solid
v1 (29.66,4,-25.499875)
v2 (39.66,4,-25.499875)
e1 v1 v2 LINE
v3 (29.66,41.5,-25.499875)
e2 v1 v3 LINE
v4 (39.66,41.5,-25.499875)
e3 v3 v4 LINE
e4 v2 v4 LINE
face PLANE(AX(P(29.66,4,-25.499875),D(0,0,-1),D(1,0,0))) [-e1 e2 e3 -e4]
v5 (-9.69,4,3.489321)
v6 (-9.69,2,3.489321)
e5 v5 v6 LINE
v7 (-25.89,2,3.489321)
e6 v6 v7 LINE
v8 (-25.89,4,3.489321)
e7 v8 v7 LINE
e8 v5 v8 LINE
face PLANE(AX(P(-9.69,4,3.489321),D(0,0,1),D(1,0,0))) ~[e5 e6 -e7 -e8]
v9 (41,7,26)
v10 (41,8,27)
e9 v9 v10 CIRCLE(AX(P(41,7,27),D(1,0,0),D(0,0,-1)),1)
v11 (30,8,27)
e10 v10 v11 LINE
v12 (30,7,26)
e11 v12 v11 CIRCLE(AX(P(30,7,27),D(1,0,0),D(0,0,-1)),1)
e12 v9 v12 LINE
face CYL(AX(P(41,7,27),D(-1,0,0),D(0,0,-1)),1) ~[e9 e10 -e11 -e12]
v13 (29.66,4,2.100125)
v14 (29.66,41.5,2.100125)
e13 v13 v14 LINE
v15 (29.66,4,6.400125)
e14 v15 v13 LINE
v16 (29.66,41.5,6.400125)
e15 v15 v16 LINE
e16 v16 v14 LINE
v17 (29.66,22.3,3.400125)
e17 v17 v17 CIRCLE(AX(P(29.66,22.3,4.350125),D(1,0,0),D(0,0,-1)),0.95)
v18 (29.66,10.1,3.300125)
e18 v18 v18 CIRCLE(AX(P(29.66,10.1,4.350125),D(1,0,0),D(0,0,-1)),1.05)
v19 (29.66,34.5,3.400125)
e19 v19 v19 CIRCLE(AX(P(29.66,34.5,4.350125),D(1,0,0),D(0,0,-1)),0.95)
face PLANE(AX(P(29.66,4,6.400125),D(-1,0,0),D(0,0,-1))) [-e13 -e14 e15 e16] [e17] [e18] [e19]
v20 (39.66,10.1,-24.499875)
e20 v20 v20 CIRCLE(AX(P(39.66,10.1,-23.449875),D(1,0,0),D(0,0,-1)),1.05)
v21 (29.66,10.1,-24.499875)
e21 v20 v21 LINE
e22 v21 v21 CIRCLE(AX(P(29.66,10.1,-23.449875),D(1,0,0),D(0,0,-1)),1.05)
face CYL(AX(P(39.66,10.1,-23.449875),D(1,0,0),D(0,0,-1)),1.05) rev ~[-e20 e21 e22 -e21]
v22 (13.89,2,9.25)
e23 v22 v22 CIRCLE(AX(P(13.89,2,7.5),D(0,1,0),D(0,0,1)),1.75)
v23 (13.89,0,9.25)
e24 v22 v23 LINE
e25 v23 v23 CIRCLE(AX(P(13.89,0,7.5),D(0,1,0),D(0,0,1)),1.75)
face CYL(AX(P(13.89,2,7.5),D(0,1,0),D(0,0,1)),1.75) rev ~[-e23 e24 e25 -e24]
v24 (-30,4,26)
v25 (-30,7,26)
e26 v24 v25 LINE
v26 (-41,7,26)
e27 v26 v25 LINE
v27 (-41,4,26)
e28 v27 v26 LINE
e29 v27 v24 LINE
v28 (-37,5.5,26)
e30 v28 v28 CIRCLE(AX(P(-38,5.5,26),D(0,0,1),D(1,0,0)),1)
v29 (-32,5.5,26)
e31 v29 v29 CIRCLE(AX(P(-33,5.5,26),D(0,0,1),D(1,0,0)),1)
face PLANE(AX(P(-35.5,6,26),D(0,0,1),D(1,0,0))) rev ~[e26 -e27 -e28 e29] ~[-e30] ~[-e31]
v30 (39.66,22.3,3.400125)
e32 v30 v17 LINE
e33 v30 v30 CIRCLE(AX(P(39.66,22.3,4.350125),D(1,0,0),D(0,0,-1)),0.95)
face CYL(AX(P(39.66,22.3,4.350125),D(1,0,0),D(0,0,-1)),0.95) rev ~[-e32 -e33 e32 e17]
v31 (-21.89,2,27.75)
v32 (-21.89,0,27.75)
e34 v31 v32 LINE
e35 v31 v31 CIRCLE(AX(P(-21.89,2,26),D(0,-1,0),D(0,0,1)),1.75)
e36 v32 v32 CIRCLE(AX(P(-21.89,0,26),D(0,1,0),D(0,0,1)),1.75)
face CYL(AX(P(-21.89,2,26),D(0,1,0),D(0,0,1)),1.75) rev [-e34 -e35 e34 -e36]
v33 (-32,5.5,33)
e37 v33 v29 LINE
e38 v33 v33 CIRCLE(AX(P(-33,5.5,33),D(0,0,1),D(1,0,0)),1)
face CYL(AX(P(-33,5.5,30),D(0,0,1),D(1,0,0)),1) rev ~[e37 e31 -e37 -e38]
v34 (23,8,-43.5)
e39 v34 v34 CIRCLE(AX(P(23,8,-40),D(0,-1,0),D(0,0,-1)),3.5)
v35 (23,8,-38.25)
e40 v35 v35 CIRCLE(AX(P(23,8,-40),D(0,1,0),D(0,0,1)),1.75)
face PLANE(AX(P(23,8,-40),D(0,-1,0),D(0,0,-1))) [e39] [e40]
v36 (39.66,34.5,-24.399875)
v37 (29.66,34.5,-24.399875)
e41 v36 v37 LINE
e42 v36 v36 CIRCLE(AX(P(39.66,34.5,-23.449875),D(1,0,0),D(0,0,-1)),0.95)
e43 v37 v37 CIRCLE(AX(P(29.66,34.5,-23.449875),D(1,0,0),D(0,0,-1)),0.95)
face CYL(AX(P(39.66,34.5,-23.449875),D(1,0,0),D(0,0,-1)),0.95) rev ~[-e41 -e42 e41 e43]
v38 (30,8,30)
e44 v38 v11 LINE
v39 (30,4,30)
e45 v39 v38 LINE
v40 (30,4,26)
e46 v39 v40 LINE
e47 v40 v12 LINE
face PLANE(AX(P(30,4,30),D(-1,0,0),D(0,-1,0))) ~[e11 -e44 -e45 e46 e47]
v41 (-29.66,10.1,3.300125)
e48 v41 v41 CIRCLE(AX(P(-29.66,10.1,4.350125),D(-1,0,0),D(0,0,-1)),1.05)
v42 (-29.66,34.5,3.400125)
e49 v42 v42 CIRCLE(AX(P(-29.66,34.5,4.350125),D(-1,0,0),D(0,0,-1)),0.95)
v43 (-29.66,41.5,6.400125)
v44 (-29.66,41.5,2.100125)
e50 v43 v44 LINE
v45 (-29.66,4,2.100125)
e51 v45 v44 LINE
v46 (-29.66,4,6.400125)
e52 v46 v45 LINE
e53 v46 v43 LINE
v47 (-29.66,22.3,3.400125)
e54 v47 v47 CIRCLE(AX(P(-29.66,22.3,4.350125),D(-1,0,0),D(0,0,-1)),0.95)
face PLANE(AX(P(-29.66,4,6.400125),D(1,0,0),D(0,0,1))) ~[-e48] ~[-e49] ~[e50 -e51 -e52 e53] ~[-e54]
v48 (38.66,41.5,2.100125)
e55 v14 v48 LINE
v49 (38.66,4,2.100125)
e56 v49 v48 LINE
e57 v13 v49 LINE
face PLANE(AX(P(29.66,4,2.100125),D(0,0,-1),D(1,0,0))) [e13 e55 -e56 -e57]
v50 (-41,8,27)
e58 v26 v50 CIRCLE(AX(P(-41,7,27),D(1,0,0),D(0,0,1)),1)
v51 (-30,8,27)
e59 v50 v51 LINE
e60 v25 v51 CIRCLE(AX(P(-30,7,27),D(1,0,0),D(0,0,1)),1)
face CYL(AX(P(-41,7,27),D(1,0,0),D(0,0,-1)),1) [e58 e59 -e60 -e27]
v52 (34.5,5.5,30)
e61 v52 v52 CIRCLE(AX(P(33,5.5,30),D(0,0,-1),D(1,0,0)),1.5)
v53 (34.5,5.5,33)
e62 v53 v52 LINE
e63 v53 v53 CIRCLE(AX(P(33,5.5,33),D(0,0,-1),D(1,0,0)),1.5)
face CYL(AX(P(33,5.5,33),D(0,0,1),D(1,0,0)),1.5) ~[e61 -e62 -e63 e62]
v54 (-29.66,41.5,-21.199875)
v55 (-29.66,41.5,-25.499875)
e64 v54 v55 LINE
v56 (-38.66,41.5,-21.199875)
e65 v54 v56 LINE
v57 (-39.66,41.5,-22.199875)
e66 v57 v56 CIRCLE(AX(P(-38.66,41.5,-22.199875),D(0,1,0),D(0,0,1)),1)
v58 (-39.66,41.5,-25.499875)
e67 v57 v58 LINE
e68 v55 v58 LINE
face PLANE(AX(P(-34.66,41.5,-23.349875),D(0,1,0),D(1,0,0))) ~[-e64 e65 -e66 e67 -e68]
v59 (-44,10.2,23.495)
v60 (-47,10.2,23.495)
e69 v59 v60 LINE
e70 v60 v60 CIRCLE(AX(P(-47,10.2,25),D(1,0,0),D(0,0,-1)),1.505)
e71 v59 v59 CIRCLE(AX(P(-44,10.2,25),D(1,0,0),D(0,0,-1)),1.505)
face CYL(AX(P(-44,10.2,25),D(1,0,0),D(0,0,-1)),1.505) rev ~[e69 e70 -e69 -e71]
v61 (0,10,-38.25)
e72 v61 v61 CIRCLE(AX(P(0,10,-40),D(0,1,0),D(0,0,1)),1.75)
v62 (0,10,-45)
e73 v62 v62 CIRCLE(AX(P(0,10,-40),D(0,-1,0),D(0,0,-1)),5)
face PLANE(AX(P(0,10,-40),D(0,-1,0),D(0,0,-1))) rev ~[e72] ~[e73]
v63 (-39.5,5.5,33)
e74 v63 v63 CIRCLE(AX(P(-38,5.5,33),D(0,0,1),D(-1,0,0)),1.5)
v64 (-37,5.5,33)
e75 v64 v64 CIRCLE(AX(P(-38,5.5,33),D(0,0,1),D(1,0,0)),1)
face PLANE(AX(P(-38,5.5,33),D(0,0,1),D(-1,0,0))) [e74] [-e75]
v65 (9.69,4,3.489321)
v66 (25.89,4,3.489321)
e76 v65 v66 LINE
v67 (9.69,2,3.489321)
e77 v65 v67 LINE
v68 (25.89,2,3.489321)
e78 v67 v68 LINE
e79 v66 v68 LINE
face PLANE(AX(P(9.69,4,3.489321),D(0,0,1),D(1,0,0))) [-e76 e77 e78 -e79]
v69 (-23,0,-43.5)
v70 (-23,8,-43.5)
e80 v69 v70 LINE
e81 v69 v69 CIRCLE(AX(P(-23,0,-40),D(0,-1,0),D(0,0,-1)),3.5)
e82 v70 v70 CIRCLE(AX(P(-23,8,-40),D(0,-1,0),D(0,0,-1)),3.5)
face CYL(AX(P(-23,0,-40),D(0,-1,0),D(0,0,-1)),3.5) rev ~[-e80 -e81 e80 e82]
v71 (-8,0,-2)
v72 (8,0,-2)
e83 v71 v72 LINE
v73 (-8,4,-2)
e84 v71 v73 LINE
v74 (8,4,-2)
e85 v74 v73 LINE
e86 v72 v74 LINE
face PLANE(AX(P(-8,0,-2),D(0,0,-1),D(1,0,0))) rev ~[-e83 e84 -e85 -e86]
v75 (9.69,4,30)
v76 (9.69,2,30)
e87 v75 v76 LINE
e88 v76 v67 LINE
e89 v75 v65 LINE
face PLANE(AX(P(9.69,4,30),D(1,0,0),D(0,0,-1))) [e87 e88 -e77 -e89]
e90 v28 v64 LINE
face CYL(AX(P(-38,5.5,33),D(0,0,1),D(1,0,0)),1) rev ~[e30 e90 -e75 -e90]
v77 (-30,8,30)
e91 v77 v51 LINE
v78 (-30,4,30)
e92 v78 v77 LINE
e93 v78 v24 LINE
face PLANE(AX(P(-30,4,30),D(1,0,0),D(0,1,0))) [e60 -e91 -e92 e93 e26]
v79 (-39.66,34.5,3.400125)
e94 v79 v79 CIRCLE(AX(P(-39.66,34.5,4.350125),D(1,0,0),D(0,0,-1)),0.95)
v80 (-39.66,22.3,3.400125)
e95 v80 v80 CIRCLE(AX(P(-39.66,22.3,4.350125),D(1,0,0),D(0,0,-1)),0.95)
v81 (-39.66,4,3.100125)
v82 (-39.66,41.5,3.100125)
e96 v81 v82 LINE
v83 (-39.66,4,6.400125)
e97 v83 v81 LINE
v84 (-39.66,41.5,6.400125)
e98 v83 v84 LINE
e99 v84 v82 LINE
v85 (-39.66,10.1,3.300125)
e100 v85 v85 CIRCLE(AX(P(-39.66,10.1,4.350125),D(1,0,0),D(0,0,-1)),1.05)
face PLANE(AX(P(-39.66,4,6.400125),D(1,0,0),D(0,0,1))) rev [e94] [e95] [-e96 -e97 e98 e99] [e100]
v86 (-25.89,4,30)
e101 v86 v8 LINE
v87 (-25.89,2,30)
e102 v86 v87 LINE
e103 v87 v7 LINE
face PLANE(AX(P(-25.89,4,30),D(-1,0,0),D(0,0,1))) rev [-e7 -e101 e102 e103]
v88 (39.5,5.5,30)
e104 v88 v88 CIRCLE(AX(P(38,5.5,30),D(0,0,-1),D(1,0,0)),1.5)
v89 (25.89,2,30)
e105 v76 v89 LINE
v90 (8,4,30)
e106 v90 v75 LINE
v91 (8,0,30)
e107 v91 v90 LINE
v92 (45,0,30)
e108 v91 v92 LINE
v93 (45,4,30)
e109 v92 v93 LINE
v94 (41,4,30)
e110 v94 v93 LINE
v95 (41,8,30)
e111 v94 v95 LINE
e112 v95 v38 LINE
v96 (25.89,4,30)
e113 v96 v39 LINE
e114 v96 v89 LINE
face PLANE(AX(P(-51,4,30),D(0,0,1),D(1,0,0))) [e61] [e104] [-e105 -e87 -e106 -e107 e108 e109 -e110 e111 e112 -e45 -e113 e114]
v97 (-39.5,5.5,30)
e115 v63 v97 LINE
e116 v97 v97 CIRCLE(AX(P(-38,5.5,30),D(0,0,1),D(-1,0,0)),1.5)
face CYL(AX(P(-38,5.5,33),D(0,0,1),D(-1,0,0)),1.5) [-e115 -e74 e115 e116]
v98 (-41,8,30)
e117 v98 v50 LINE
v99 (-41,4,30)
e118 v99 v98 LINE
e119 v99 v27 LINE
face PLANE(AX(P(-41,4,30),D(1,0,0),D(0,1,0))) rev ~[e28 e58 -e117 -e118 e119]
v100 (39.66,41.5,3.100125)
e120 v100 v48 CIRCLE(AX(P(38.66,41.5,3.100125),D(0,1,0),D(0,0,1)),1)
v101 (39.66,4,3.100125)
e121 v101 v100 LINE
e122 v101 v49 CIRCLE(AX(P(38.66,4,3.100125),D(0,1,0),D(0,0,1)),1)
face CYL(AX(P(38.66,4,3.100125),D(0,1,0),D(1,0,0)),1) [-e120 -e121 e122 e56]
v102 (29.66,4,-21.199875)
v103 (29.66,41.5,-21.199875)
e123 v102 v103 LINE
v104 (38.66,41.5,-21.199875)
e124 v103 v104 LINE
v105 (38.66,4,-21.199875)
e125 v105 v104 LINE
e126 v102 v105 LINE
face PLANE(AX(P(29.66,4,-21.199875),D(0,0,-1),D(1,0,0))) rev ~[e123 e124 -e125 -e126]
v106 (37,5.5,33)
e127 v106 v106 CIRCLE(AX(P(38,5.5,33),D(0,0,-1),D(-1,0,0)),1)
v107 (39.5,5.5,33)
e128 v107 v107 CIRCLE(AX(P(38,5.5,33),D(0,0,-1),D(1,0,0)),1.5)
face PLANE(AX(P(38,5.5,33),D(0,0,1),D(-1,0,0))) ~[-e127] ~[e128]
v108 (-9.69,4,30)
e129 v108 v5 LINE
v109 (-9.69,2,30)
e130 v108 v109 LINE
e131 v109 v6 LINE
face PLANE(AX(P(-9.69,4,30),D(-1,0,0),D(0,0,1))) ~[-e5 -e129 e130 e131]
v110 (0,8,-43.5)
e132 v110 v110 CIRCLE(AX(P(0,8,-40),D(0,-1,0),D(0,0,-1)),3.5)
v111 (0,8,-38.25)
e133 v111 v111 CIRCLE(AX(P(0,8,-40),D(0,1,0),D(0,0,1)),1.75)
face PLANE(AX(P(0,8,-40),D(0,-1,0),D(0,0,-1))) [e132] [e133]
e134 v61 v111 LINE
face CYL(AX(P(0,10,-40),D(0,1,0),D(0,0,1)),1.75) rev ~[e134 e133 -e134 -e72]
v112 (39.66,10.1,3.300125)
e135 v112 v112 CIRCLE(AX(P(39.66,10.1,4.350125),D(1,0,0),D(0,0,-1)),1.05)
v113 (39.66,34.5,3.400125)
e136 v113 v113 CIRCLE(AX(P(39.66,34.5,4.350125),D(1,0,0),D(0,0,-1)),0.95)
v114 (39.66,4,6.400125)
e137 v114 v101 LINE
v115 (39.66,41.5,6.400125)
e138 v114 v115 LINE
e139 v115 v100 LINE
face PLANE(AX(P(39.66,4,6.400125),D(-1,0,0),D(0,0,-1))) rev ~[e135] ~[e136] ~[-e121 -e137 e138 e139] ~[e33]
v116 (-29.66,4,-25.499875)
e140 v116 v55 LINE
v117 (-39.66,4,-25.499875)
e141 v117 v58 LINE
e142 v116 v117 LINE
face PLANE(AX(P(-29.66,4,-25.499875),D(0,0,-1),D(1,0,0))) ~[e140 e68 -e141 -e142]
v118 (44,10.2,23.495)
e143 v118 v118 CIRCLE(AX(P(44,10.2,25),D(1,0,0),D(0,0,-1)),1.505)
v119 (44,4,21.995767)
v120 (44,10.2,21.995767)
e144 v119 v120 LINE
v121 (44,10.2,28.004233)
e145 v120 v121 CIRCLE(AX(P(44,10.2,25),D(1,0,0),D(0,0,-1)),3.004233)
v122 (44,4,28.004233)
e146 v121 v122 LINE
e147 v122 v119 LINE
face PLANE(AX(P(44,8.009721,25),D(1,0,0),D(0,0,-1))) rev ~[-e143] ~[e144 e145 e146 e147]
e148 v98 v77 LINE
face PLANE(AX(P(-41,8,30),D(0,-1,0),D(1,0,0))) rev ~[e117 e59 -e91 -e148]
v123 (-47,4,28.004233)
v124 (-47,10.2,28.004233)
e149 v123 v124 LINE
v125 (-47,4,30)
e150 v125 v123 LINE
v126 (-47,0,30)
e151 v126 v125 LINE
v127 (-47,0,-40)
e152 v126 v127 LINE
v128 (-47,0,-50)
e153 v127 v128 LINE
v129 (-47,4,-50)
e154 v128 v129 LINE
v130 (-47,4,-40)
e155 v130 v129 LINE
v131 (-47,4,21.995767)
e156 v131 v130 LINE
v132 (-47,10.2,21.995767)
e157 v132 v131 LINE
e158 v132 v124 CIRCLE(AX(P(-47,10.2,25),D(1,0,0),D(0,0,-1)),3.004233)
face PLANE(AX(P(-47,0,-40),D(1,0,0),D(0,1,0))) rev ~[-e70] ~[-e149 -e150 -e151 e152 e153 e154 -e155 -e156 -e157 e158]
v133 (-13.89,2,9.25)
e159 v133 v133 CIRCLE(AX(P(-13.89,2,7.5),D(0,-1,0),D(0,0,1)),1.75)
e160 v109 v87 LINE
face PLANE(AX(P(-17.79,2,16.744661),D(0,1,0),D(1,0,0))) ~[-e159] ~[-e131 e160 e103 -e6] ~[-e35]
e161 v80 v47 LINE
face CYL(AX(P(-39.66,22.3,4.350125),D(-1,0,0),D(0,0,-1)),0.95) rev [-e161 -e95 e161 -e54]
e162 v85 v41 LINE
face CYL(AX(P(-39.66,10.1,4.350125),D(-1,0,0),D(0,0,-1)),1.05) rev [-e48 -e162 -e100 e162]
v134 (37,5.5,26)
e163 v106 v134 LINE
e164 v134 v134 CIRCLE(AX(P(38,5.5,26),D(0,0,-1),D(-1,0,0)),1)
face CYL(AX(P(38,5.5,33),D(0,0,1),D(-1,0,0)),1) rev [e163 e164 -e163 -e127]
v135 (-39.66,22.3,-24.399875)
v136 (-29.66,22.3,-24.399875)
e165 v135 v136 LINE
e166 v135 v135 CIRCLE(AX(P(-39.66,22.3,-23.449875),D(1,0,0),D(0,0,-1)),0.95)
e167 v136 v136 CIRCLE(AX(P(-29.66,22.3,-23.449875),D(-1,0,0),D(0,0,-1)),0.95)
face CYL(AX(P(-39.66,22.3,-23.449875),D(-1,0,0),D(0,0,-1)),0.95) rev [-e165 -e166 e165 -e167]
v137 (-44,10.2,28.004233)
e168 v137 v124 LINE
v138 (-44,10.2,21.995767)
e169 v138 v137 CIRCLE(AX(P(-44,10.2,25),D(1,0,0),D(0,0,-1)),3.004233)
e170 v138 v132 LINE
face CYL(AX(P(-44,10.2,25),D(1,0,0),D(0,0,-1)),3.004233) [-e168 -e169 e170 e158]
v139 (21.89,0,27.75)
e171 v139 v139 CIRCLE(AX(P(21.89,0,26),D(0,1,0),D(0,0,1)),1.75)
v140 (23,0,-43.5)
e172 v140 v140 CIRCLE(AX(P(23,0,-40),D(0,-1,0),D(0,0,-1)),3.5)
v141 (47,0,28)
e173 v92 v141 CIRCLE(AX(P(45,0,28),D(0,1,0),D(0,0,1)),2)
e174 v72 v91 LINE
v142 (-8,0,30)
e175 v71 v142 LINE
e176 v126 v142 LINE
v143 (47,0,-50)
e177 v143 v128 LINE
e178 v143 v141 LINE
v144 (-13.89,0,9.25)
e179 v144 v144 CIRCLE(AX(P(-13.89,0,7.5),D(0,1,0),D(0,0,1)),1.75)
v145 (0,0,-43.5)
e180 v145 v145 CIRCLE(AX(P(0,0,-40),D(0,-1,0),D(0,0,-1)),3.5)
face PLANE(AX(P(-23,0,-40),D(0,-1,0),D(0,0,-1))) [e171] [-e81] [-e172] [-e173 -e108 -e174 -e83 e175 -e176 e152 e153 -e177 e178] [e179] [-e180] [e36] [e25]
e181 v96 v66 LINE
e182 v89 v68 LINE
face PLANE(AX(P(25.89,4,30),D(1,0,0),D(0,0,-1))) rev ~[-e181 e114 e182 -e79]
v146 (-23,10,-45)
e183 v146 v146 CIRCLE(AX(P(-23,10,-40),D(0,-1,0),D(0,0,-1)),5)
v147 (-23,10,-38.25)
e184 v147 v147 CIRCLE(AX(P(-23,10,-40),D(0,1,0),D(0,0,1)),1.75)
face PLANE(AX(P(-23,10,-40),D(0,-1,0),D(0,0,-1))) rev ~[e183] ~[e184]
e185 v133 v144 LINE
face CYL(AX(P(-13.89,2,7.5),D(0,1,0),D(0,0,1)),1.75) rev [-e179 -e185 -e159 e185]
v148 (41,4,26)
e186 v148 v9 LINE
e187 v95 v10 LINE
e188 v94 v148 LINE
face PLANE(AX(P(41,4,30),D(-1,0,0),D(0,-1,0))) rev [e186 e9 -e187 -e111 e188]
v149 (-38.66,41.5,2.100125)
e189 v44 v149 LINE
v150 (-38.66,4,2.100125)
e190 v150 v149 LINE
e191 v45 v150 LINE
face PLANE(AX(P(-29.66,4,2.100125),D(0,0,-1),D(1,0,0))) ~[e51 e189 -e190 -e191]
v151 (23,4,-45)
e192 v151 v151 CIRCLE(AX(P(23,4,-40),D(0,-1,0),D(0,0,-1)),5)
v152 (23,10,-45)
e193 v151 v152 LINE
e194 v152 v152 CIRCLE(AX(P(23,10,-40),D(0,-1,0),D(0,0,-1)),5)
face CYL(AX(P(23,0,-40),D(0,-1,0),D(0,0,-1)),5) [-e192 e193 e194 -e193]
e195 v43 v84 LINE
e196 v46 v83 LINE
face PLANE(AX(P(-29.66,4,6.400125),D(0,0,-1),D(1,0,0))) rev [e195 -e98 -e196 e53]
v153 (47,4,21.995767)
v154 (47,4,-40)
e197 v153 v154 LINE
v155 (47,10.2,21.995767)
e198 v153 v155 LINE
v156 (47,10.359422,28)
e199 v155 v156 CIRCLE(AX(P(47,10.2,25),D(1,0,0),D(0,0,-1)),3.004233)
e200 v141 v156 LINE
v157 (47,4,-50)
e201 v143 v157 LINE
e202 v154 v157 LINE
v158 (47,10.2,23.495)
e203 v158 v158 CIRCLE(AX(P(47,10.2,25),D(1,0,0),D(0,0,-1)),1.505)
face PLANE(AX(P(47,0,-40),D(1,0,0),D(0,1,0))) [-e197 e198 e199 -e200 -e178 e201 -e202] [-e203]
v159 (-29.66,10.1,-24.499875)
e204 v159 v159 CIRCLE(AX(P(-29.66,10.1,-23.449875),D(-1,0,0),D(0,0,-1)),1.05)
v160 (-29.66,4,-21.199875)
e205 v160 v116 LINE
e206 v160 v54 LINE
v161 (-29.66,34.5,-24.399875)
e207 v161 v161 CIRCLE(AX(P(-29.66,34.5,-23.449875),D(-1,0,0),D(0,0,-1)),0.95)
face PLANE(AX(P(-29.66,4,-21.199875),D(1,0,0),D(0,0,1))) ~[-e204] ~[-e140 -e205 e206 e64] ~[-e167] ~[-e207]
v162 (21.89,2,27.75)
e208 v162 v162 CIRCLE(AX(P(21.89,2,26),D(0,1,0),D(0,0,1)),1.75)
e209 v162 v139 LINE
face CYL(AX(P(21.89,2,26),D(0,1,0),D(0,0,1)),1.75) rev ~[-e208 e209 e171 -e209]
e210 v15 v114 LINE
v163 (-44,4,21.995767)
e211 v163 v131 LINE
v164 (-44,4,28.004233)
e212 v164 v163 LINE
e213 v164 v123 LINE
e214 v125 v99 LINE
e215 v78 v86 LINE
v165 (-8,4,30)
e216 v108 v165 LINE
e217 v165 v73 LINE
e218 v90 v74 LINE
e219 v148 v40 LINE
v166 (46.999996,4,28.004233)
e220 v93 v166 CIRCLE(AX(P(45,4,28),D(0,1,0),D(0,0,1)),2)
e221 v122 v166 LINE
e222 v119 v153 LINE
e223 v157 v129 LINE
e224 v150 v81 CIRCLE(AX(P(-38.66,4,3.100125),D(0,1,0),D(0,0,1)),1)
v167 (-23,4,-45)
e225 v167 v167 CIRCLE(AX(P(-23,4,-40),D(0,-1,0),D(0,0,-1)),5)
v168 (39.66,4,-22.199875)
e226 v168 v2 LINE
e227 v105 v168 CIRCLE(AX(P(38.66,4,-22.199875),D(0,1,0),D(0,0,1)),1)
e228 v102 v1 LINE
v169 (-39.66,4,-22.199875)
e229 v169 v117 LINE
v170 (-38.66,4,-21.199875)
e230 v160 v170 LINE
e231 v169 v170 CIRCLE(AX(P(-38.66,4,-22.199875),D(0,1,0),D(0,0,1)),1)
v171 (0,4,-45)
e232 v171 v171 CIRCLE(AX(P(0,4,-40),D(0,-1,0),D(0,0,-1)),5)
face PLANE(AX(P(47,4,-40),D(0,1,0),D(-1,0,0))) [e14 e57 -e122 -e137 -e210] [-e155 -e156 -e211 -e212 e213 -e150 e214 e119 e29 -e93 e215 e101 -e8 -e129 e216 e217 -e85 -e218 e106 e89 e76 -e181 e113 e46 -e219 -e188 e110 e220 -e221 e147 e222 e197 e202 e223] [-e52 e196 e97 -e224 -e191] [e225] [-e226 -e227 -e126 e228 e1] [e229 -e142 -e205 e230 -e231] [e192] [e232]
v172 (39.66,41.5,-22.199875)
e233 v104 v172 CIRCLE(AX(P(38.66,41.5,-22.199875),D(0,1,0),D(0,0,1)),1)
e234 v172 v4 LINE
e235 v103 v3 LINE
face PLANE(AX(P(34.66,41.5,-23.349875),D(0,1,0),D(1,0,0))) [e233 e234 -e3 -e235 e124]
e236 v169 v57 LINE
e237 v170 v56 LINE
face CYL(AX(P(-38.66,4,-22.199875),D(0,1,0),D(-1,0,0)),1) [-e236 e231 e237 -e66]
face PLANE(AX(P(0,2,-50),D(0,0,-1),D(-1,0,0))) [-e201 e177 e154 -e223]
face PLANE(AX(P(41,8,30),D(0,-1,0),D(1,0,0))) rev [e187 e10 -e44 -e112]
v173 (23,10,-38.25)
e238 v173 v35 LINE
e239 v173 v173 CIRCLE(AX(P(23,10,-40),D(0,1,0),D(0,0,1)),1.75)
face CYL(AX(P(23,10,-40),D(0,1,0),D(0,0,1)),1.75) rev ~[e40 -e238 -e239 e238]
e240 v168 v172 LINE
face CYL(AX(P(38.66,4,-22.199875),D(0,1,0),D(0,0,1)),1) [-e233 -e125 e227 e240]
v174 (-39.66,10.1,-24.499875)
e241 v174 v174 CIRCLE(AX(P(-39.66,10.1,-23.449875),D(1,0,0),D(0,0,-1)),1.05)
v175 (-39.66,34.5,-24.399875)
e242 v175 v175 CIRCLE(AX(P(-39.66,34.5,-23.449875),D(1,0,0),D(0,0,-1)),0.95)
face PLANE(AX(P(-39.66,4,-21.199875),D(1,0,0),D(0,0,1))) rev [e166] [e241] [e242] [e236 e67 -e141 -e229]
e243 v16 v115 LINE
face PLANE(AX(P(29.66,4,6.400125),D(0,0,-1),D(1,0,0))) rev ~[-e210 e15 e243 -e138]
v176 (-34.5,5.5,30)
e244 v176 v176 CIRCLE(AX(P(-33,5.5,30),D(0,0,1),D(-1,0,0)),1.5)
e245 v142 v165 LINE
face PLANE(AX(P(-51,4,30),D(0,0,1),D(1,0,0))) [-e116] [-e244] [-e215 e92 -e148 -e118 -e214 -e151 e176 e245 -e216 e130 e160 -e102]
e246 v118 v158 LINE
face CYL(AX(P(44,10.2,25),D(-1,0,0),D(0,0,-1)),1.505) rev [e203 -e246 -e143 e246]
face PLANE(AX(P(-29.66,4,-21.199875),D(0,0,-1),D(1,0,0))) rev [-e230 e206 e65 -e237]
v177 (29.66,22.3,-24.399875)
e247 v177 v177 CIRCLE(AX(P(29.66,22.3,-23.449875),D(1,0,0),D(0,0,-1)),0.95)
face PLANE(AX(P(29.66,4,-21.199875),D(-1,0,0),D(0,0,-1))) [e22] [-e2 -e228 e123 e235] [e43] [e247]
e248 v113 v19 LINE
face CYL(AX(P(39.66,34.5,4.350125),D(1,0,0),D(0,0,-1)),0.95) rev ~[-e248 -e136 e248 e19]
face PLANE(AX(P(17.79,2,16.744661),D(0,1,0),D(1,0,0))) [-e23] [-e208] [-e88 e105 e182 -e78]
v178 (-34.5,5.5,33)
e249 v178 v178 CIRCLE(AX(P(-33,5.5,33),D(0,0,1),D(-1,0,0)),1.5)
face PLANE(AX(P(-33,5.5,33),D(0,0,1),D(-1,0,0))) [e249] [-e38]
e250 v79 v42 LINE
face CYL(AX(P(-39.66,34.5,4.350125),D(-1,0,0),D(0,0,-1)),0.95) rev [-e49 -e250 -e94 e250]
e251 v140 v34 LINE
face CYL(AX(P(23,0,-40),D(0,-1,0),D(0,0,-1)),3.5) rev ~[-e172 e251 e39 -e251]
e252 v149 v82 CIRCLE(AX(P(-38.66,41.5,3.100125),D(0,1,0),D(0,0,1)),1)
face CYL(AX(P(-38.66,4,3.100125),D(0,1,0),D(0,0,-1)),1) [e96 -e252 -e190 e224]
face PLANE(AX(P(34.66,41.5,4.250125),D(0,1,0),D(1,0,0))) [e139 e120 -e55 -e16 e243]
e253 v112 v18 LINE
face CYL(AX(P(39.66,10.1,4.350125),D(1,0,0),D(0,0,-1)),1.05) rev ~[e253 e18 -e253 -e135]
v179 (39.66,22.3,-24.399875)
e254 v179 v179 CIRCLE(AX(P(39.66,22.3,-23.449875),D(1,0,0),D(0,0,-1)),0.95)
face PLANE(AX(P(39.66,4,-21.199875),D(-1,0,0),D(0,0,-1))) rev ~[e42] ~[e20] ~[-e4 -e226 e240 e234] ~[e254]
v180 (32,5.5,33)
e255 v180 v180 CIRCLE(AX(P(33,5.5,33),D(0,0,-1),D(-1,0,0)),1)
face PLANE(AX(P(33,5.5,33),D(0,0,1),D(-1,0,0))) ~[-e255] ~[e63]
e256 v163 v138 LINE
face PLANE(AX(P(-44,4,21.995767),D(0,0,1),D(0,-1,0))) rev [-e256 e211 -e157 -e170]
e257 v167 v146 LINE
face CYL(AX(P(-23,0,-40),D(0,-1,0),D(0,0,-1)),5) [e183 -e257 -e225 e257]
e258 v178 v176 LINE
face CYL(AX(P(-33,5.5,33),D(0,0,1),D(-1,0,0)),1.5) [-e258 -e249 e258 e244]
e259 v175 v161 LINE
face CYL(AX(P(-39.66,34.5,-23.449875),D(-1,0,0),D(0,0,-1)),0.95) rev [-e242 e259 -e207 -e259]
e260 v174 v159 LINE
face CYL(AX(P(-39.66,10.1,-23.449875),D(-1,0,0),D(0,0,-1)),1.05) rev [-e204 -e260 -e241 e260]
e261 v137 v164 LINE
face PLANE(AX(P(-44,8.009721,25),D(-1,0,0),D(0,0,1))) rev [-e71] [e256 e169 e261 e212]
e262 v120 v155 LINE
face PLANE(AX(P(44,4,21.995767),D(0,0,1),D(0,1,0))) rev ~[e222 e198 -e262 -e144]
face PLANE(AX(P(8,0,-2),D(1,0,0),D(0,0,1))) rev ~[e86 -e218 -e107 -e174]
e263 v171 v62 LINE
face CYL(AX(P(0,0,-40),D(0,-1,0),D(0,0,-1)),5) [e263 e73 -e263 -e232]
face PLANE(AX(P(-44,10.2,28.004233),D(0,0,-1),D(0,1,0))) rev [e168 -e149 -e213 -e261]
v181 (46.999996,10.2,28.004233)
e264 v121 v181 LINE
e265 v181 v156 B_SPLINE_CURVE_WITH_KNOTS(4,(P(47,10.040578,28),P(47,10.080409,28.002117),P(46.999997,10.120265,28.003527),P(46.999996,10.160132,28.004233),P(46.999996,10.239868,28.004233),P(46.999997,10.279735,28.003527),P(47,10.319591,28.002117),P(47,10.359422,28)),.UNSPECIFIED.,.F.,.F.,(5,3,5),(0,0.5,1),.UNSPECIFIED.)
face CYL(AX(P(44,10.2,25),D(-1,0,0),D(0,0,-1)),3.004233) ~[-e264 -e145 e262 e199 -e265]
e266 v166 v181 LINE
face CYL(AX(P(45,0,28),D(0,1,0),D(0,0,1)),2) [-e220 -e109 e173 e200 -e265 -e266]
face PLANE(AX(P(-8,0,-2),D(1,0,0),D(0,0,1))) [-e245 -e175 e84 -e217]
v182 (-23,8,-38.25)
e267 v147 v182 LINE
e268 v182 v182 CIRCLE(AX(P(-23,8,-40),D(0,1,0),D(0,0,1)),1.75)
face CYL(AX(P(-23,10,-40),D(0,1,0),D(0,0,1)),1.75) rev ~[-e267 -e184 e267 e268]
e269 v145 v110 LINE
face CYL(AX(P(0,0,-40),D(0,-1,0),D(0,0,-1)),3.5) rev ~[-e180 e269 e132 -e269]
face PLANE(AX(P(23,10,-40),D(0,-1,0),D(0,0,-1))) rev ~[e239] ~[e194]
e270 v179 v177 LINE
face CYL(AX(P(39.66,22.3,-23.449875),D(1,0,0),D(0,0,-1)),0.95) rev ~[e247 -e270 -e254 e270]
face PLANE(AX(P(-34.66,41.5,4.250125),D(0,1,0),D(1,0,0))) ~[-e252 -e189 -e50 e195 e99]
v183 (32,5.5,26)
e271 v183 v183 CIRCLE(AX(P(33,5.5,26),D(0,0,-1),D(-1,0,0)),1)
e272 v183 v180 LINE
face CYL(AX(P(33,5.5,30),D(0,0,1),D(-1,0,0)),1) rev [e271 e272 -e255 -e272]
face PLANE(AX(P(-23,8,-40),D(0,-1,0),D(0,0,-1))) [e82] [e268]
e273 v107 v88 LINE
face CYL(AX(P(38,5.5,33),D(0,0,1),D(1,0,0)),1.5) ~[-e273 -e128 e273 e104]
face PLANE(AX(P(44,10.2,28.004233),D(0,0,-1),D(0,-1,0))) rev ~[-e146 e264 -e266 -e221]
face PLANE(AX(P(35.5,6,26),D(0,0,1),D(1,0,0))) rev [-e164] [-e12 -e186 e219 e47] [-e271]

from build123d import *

# Parameters (mm, degrees)
SKETCH_1_W             = 102
SKETCH_1_H             = 80
EXTRUDE_1_DEPTH        = 4
SKETCH_5_R             = 1.505
EXTRUDE_3_DEPTH        = 3
SKETCH_16_W            = 10
SKETCH_16_H            = 4.3
EXTRUDE_6_DEPTH        = 37.5
FILLET_3_R             = 1
SKETCH_17_R            = 1.05
SKETCH_17_R_2          = 0.95
CUT_EXTRUDE_10_DEPTH   = 12.5
SKETCH_18_W            = 102
SKETCH_18_H            = 10
CUT_EXTRUDE_11_DEPTH   = 12.5
FILLET_3_OF_MIRROR_2_R = 1
SKETCH_21_W            = 5.636629149
SKETCH_21_H            = 7.556578014
CUT_EXTRUDE_14_DEPTH   = 97.037752993
FILLET_7_R             = 2
SKETCH_22_W            = 16.2
SKETCH_22_H            = 26.510678642
CUT_EXTRUDE_15_DEPTH   = 2
SKETCH_23_R            = 1.75
CUT_EXTRUDE_16_DEPTH   = 74.275166389
SKETCH_25_W            = 11
SKETCH_25_H            = 4
SKETCH_25_R            = 1
EXTRUDE_7_DEPTH        = 4
EXTRUDE_START          = 3
SKETCH_27_R            = 1.5
SKETCH_27_R_2          = 1
EXTRUDE_8_DEPTH        = 3
FILLET_8_R             = 1
FILLET_8_OF_MIRROR_7_R = 1
SKETCH_28_W            = 16
SKETCH_28_H            = 32
CUT_EXTRUDE_17_DEPTH   = 10
SKETCH_29_W            = 94
SKETCH_29_H            = 4
EXTRUDE_9_DEPTH        = 10
SKETCH_30_R            = 5
EXTRUDE_10_DEPTH       = 10
SKETCH_31_R            = 3.5
CUT_EXTRUDE_18_DEPTH   = 8
SKETCH_32_R            = 1.75
CUT_EXTRUDE_19_DEPTH   = 8


with BuildPart() as part:
    # 草图1 → 凸台-拉伸1 (new body)
    with BuildSketch(Plane(origin=(0, 0, 0), x_dir=(1, 0, 0), z_dir=(0, 1, 0))):
        Rectangle(SKETCH_1_W, SKETCH_1_H)
    extrude(amount=EXTRUDE_1_DEPTH)

    # 草图5 → 凸台-拉伸3 (add)
    with BuildSketch(Plane(origin=(44, 0, 0), x_dir=(0, 0, -1), z_dir=(1, 0, 0))):
        with BuildLine():
            Line((-28.004232899, 10.2), (-28.004232899, 4))
            Line((-28.004232899, 4), (-21.995767101, 4))
            Line((-21.995767101, 4), (-21.995767101, 10.2))
            ThreePointArc((-21.995767101, 10.2), (-25, 13.204232899), (-28.004232899, 10.2))
        make_face()
        with Locations((-25, 10.2)):
            Circle(SKETCH_5_R, mode=Mode.SUBTRACT)
    extrude_3 = extrude(amount=EXTRUDE_3_DEPTH)

    # 镜向1: 凸台-拉伸3 across plane
    add(extrude_3.mirror(Plane(origin=(0, 0, 0), x_dir=(0, 0, 1), z_dir=(1, 0, 0))))

    # 草图16 → 凸台-拉伸6 (add)
    with BuildSketch(Plane(origin=(0, 4, 0), x_dir=(1, 0, 0), z_dir=(0, 1, 0))):
        with Locations((34.66, -4.250125)):
            Rectangle(SKETCH_16_W, SKETCH_16_H)
        with Locations((34.66, 23.349875)):
            Rectangle(SKETCH_16_W, SKETCH_16_H)
    extrude_6 = extrude(amount=EXTRUDE_6_DEPTH)

    # 圆角3
    fillet_3_edges = [part.edges().sort_by_distance(p)[0] for p in [
        (39.66, 22.75, 2.100125),
        (39.66, 22.75, -21.199875),
    ]]
    fillet(fillet_3_edges, radius=FILLET_3_R)

    # 草图17 → 切除-拉伸10 (cut)
    with BuildSketch(Plane(origin=(39.66, 0, 0), x_dir=(0, 0, -1), z_dir=(1, 0, 0))):
        with Locations((-4.350125, 10.1)):
            Circle(SKETCH_17_R)
        with Locations((23.449875, 10.1)):
            Circle(SKETCH_17_R)
        with Locations((23.449875, 22.3)):
            Circle(SKETCH_17_R_2)
        with Locations((23.449875, 34.5)):
            Circle(SKETCH_17_R_2)
        with Locations((-4.350125, 34.5)):
            Circle(SKETCH_17_R_2)
        with Locations((-4.350125, 22.3)):
            Circle(SKETCH_17_R_2)
    cut_extrude_10 = extrude(amount=-CUT_EXTRUDE_10_DEPTH, mode=Mode.SUBTRACT)

    # 草图18 → 切除-拉伸11 (cut)
    with BuildSketch(Plane(origin=(0, 4, 0), x_dir=(1, 0, 0), z_dir=(0, 1, 0))):
        with Locations((0, -35)):
            Rectangle(SKETCH_18_W, SKETCH_18_H)
    extrude(amount=-CUT_EXTRUDE_11_DEPTH, mode=Mode.SUBTRACT)

    # 镜向2: 凸台-拉伸6, 切除-拉伸10 across plane
    add(extrude_6.mirror(Plane(origin=(0, 0, 0), x_dir=(0, 0, 1), z_dir=(1, 0, 0))))
    add(cut_extrude_10.mirror(Plane(origin=(0, 0, 0), x_dir=(0, 0, 1), z_dir=(1, 0, 0))), mode=Mode.SUBTRACT)

    # 圆角3 of 镜向2
    fillet_3_of_mirror_2_edges = [part.edges().sort_by_distance(p)[0] for p in [
        (-39.66, 22.75, 2.100125),
        (-39.66, 22.75, -21.199875),
    ]]
    fillet(fillet_3_of_mirror_2_edges, radius=FILLET_3_OF_MIRROR_2_R)

    # 草图21 → 切除-拉伸14 (cut, through all)
    with BuildSketch(Plane.XY.offset(30)):
        with Locations((49.818314575, 1.602871311)):
            Rectangle(SKETCH_21_W, SKETCH_21_H)
    cut_extrude_14 = extrude(amount=-CUT_EXTRUDE_14_DEPTH, mode=Mode.SUBTRACT)

    # 镜向5: 切除-拉伸14 across plane
    add(cut_extrude_14.mirror(Plane(origin=(0, 0, 0), x_dir=(0, 0, 1), z_dir=(1, 0, 0))), mode=Mode.SUBTRACT)

    # 圆角7
    fillet_7_edges = [part.edges().sort_by_distance(p)[0] for p in [
        (47, 2, 30),
    ]]
    fillet(fillet_7_edges, radius=FILLET_7_R)

    # 草图22 → 切除-拉伸15 (cut)
    with BuildSketch(Plane(origin=(0, 4, 0), x_dir=(1, 0, 0), z_dir=(0, 1, 0))):
        with Locations((17.79, -16.744660679)):
            Rectangle(SKETCH_22_W, SKETCH_22_H)
    cut_extrude_15 = extrude(amount=-CUT_EXTRUDE_15_DEPTH, mode=Mode.SUBTRACT)

    # 草图23 → 切除-拉伸16 (cut, through all)
    with BuildSketch(Plane(origin=(0, 2, 0), x_dir=(1, 0, 0), z_dir=(0, 1, 0))):
        with Locations(Location((13.89, -7.5, 0), (0, 0, 270))):
            Circle(SKETCH_23_R)
        with Locations(Location((21.89, -26, 0), (0, 0, 270))):
            Circle(SKETCH_23_R)
    cut_extrude_16 = extrude(amount=-CUT_EXTRUDE_16_DEPTH, mode=Mode.SUBTRACT)

    # 镜向6: 切除-拉伸15, 切除-拉伸16 across plane
    add(cut_extrude_15.mirror(Plane(origin=(0, 0, 0), x_dir=(0, 0, 1), z_dir=(1, 0, 0))), mode=Mode.SUBTRACT)
    add(cut_extrude_16.mirror(Plane(origin=(0, 0, 0), x_dir=(0, 0, 1), z_dir=(1, 0, 0))), mode=Mode.SUBTRACT)

    # 草图25 → 凸台-拉伸7 (add)
    with BuildSketch(Plane.XY.offset(30)):
        with Locations((-35.5, 6)):
            Rectangle(SKETCH_25_W, SKETCH_25_H)
        with Locations((-38, 5.5)):
            Circle(SKETCH_25_R, mode=Mode.SUBTRACT)
        with Locations((-33, 5.5)):
            Circle(SKETCH_25_R, mode=Mode.SUBTRACT)
    extrude_7 = extrude(amount=-EXTRUDE_7_DEPTH)

    # 草图27 → 凸台-拉伸8 (add)
    # profile 1 of 2: a face of its own
    with BuildSketch(Plane.XY.offset(30).offset(EXTRUDE_START)):
        with Locations(Location((-38, 5.5, 0), (0, 0, 180))):
            Circle(SKETCH_27_R)
        with Locations((-38, 5.5)):
            Circle(SKETCH_27_R_2, mode=Mode.SUBTRACT)
    # profile 2 of 2: a face of its own
    with BuildSketch(Plane.XY.offset(30).offset(EXTRUDE_START)):
        with Locations(Location((-33, 5.5, 0), (0, 0, 180))):
            Circle(SKETCH_27_R)
        with Locations((-33, 5.5)):
            Circle(SKETCH_27_R_2, mode=Mode.SUBTRACT)
    extrude_8 = extrude(amount=-EXTRUDE_8_DEPTH)

    # 圆角8
    fillet_8_edges = [part.edges().sort_by_distance(p)[0] for p in [
        (-35.5, 8, 26),
    ]]
    fillet(fillet_8_edges, radius=FILLET_8_R)

    # 镜向7: 凸台-拉伸7, 凸台-拉伸8 across plane
    add(extrude_7.mirror(Plane(origin=(0, 0, 0), x_dir=(0, 0, 1), z_dir=(1, 0, 0))))
    add(extrude_8.mirror(Plane(origin=(0, 0, 0), x_dir=(0, 0, 1), z_dir=(1, 0, 0))))

    # 圆角8 of 镜向7
    fillet_8_of_mirror_7_edges = [part.edges().sort_by_distance(p)[0] for p in [
        (35.5, 8, 26),
    ]]
    fillet(fillet_8_of_mirror_7_edges, radius=FILLET_8_OF_MIRROR_7_R)

    # 草图28 → 切除-拉伸17 (cut)
    with BuildSketch(Plane.XZ):
        with Locations((0, 14)):
            Rectangle(SKETCH_28_W, SKETCH_28_H)
    extrude(amount=-CUT_EXTRUDE_17_DEPTH, mode=Mode.SUBTRACT)

    # 草图29 → 凸台-拉伸9 (add)
    with BuildSketch(Plane(origin=(0, 0, -40), x_dir=(-1, 0, 0), z_dir=(0, 0, -1))):
        with Locations((0, 2)):
            Rectangle(SKETCH_29_W, SKETCH_29_H)
    extrude(amount=EXTRUDE_9_DEPTH)

    # 草图30 → 凸台-拉伸10 (add)
    with BuildSketch(Plane.XZ):
        with Locations(Location((-23, -40, 0), (0, 0, 270))):
            Circle(SKETCH_30_R)
        with Locations(Location((0, -40, 0), (0, 0, 270))):
            Circle(SKETCH_30_R)
        with Locations(Location((23, -40, 0), (0, 0, 270))):
            Circle(SKETCH_30_R)
    extrude(amount=-EXTRUDE_10_DEPTH)

    # 草图31 → 切除-拉伸18 (cut)
    with BuildSketch(Plane.XZ):
        with Locations(Location((23, -40, 0), (0, 0, 270))):
            Circle(SKETCH_31_R)
        with Locations(Location((-23, -40, 0), (0, 0, 270))):
            Circle(SKETCH_31_R)
        with Locations(Location((0, -40, 0), (0, 0, 270))):
            Circle(SKETCH_31_R)
    extrude(amount=-CUT_EXTRUDE_18_DEPTH, mode=Mode.SUBTRACT)

    # 草图32 → 切除-拉伸19 (cut)
    with BuildSketch(Plane(origin=(0, 10, 0), x_dir=(1, 0, 0), z_dir=(0, 1, 0))):
        with Locations(Location((0, 40, 0), (0, 0, 270))):
            Circle(SKETCH_32_R)
        with Locations(Location((23, 40, 0), (0, 0, 270))):
            Circle(SKETCH_32_R)
        with Locations(Location((-23, 40, 0), (0, 0, 270))):
            Circle(SKETCH_32_R)
    extrude(amount=-CUT_EXTRUDE_19_DEPTH, mode=Mode.SUBTRACT)


solid = part.part
